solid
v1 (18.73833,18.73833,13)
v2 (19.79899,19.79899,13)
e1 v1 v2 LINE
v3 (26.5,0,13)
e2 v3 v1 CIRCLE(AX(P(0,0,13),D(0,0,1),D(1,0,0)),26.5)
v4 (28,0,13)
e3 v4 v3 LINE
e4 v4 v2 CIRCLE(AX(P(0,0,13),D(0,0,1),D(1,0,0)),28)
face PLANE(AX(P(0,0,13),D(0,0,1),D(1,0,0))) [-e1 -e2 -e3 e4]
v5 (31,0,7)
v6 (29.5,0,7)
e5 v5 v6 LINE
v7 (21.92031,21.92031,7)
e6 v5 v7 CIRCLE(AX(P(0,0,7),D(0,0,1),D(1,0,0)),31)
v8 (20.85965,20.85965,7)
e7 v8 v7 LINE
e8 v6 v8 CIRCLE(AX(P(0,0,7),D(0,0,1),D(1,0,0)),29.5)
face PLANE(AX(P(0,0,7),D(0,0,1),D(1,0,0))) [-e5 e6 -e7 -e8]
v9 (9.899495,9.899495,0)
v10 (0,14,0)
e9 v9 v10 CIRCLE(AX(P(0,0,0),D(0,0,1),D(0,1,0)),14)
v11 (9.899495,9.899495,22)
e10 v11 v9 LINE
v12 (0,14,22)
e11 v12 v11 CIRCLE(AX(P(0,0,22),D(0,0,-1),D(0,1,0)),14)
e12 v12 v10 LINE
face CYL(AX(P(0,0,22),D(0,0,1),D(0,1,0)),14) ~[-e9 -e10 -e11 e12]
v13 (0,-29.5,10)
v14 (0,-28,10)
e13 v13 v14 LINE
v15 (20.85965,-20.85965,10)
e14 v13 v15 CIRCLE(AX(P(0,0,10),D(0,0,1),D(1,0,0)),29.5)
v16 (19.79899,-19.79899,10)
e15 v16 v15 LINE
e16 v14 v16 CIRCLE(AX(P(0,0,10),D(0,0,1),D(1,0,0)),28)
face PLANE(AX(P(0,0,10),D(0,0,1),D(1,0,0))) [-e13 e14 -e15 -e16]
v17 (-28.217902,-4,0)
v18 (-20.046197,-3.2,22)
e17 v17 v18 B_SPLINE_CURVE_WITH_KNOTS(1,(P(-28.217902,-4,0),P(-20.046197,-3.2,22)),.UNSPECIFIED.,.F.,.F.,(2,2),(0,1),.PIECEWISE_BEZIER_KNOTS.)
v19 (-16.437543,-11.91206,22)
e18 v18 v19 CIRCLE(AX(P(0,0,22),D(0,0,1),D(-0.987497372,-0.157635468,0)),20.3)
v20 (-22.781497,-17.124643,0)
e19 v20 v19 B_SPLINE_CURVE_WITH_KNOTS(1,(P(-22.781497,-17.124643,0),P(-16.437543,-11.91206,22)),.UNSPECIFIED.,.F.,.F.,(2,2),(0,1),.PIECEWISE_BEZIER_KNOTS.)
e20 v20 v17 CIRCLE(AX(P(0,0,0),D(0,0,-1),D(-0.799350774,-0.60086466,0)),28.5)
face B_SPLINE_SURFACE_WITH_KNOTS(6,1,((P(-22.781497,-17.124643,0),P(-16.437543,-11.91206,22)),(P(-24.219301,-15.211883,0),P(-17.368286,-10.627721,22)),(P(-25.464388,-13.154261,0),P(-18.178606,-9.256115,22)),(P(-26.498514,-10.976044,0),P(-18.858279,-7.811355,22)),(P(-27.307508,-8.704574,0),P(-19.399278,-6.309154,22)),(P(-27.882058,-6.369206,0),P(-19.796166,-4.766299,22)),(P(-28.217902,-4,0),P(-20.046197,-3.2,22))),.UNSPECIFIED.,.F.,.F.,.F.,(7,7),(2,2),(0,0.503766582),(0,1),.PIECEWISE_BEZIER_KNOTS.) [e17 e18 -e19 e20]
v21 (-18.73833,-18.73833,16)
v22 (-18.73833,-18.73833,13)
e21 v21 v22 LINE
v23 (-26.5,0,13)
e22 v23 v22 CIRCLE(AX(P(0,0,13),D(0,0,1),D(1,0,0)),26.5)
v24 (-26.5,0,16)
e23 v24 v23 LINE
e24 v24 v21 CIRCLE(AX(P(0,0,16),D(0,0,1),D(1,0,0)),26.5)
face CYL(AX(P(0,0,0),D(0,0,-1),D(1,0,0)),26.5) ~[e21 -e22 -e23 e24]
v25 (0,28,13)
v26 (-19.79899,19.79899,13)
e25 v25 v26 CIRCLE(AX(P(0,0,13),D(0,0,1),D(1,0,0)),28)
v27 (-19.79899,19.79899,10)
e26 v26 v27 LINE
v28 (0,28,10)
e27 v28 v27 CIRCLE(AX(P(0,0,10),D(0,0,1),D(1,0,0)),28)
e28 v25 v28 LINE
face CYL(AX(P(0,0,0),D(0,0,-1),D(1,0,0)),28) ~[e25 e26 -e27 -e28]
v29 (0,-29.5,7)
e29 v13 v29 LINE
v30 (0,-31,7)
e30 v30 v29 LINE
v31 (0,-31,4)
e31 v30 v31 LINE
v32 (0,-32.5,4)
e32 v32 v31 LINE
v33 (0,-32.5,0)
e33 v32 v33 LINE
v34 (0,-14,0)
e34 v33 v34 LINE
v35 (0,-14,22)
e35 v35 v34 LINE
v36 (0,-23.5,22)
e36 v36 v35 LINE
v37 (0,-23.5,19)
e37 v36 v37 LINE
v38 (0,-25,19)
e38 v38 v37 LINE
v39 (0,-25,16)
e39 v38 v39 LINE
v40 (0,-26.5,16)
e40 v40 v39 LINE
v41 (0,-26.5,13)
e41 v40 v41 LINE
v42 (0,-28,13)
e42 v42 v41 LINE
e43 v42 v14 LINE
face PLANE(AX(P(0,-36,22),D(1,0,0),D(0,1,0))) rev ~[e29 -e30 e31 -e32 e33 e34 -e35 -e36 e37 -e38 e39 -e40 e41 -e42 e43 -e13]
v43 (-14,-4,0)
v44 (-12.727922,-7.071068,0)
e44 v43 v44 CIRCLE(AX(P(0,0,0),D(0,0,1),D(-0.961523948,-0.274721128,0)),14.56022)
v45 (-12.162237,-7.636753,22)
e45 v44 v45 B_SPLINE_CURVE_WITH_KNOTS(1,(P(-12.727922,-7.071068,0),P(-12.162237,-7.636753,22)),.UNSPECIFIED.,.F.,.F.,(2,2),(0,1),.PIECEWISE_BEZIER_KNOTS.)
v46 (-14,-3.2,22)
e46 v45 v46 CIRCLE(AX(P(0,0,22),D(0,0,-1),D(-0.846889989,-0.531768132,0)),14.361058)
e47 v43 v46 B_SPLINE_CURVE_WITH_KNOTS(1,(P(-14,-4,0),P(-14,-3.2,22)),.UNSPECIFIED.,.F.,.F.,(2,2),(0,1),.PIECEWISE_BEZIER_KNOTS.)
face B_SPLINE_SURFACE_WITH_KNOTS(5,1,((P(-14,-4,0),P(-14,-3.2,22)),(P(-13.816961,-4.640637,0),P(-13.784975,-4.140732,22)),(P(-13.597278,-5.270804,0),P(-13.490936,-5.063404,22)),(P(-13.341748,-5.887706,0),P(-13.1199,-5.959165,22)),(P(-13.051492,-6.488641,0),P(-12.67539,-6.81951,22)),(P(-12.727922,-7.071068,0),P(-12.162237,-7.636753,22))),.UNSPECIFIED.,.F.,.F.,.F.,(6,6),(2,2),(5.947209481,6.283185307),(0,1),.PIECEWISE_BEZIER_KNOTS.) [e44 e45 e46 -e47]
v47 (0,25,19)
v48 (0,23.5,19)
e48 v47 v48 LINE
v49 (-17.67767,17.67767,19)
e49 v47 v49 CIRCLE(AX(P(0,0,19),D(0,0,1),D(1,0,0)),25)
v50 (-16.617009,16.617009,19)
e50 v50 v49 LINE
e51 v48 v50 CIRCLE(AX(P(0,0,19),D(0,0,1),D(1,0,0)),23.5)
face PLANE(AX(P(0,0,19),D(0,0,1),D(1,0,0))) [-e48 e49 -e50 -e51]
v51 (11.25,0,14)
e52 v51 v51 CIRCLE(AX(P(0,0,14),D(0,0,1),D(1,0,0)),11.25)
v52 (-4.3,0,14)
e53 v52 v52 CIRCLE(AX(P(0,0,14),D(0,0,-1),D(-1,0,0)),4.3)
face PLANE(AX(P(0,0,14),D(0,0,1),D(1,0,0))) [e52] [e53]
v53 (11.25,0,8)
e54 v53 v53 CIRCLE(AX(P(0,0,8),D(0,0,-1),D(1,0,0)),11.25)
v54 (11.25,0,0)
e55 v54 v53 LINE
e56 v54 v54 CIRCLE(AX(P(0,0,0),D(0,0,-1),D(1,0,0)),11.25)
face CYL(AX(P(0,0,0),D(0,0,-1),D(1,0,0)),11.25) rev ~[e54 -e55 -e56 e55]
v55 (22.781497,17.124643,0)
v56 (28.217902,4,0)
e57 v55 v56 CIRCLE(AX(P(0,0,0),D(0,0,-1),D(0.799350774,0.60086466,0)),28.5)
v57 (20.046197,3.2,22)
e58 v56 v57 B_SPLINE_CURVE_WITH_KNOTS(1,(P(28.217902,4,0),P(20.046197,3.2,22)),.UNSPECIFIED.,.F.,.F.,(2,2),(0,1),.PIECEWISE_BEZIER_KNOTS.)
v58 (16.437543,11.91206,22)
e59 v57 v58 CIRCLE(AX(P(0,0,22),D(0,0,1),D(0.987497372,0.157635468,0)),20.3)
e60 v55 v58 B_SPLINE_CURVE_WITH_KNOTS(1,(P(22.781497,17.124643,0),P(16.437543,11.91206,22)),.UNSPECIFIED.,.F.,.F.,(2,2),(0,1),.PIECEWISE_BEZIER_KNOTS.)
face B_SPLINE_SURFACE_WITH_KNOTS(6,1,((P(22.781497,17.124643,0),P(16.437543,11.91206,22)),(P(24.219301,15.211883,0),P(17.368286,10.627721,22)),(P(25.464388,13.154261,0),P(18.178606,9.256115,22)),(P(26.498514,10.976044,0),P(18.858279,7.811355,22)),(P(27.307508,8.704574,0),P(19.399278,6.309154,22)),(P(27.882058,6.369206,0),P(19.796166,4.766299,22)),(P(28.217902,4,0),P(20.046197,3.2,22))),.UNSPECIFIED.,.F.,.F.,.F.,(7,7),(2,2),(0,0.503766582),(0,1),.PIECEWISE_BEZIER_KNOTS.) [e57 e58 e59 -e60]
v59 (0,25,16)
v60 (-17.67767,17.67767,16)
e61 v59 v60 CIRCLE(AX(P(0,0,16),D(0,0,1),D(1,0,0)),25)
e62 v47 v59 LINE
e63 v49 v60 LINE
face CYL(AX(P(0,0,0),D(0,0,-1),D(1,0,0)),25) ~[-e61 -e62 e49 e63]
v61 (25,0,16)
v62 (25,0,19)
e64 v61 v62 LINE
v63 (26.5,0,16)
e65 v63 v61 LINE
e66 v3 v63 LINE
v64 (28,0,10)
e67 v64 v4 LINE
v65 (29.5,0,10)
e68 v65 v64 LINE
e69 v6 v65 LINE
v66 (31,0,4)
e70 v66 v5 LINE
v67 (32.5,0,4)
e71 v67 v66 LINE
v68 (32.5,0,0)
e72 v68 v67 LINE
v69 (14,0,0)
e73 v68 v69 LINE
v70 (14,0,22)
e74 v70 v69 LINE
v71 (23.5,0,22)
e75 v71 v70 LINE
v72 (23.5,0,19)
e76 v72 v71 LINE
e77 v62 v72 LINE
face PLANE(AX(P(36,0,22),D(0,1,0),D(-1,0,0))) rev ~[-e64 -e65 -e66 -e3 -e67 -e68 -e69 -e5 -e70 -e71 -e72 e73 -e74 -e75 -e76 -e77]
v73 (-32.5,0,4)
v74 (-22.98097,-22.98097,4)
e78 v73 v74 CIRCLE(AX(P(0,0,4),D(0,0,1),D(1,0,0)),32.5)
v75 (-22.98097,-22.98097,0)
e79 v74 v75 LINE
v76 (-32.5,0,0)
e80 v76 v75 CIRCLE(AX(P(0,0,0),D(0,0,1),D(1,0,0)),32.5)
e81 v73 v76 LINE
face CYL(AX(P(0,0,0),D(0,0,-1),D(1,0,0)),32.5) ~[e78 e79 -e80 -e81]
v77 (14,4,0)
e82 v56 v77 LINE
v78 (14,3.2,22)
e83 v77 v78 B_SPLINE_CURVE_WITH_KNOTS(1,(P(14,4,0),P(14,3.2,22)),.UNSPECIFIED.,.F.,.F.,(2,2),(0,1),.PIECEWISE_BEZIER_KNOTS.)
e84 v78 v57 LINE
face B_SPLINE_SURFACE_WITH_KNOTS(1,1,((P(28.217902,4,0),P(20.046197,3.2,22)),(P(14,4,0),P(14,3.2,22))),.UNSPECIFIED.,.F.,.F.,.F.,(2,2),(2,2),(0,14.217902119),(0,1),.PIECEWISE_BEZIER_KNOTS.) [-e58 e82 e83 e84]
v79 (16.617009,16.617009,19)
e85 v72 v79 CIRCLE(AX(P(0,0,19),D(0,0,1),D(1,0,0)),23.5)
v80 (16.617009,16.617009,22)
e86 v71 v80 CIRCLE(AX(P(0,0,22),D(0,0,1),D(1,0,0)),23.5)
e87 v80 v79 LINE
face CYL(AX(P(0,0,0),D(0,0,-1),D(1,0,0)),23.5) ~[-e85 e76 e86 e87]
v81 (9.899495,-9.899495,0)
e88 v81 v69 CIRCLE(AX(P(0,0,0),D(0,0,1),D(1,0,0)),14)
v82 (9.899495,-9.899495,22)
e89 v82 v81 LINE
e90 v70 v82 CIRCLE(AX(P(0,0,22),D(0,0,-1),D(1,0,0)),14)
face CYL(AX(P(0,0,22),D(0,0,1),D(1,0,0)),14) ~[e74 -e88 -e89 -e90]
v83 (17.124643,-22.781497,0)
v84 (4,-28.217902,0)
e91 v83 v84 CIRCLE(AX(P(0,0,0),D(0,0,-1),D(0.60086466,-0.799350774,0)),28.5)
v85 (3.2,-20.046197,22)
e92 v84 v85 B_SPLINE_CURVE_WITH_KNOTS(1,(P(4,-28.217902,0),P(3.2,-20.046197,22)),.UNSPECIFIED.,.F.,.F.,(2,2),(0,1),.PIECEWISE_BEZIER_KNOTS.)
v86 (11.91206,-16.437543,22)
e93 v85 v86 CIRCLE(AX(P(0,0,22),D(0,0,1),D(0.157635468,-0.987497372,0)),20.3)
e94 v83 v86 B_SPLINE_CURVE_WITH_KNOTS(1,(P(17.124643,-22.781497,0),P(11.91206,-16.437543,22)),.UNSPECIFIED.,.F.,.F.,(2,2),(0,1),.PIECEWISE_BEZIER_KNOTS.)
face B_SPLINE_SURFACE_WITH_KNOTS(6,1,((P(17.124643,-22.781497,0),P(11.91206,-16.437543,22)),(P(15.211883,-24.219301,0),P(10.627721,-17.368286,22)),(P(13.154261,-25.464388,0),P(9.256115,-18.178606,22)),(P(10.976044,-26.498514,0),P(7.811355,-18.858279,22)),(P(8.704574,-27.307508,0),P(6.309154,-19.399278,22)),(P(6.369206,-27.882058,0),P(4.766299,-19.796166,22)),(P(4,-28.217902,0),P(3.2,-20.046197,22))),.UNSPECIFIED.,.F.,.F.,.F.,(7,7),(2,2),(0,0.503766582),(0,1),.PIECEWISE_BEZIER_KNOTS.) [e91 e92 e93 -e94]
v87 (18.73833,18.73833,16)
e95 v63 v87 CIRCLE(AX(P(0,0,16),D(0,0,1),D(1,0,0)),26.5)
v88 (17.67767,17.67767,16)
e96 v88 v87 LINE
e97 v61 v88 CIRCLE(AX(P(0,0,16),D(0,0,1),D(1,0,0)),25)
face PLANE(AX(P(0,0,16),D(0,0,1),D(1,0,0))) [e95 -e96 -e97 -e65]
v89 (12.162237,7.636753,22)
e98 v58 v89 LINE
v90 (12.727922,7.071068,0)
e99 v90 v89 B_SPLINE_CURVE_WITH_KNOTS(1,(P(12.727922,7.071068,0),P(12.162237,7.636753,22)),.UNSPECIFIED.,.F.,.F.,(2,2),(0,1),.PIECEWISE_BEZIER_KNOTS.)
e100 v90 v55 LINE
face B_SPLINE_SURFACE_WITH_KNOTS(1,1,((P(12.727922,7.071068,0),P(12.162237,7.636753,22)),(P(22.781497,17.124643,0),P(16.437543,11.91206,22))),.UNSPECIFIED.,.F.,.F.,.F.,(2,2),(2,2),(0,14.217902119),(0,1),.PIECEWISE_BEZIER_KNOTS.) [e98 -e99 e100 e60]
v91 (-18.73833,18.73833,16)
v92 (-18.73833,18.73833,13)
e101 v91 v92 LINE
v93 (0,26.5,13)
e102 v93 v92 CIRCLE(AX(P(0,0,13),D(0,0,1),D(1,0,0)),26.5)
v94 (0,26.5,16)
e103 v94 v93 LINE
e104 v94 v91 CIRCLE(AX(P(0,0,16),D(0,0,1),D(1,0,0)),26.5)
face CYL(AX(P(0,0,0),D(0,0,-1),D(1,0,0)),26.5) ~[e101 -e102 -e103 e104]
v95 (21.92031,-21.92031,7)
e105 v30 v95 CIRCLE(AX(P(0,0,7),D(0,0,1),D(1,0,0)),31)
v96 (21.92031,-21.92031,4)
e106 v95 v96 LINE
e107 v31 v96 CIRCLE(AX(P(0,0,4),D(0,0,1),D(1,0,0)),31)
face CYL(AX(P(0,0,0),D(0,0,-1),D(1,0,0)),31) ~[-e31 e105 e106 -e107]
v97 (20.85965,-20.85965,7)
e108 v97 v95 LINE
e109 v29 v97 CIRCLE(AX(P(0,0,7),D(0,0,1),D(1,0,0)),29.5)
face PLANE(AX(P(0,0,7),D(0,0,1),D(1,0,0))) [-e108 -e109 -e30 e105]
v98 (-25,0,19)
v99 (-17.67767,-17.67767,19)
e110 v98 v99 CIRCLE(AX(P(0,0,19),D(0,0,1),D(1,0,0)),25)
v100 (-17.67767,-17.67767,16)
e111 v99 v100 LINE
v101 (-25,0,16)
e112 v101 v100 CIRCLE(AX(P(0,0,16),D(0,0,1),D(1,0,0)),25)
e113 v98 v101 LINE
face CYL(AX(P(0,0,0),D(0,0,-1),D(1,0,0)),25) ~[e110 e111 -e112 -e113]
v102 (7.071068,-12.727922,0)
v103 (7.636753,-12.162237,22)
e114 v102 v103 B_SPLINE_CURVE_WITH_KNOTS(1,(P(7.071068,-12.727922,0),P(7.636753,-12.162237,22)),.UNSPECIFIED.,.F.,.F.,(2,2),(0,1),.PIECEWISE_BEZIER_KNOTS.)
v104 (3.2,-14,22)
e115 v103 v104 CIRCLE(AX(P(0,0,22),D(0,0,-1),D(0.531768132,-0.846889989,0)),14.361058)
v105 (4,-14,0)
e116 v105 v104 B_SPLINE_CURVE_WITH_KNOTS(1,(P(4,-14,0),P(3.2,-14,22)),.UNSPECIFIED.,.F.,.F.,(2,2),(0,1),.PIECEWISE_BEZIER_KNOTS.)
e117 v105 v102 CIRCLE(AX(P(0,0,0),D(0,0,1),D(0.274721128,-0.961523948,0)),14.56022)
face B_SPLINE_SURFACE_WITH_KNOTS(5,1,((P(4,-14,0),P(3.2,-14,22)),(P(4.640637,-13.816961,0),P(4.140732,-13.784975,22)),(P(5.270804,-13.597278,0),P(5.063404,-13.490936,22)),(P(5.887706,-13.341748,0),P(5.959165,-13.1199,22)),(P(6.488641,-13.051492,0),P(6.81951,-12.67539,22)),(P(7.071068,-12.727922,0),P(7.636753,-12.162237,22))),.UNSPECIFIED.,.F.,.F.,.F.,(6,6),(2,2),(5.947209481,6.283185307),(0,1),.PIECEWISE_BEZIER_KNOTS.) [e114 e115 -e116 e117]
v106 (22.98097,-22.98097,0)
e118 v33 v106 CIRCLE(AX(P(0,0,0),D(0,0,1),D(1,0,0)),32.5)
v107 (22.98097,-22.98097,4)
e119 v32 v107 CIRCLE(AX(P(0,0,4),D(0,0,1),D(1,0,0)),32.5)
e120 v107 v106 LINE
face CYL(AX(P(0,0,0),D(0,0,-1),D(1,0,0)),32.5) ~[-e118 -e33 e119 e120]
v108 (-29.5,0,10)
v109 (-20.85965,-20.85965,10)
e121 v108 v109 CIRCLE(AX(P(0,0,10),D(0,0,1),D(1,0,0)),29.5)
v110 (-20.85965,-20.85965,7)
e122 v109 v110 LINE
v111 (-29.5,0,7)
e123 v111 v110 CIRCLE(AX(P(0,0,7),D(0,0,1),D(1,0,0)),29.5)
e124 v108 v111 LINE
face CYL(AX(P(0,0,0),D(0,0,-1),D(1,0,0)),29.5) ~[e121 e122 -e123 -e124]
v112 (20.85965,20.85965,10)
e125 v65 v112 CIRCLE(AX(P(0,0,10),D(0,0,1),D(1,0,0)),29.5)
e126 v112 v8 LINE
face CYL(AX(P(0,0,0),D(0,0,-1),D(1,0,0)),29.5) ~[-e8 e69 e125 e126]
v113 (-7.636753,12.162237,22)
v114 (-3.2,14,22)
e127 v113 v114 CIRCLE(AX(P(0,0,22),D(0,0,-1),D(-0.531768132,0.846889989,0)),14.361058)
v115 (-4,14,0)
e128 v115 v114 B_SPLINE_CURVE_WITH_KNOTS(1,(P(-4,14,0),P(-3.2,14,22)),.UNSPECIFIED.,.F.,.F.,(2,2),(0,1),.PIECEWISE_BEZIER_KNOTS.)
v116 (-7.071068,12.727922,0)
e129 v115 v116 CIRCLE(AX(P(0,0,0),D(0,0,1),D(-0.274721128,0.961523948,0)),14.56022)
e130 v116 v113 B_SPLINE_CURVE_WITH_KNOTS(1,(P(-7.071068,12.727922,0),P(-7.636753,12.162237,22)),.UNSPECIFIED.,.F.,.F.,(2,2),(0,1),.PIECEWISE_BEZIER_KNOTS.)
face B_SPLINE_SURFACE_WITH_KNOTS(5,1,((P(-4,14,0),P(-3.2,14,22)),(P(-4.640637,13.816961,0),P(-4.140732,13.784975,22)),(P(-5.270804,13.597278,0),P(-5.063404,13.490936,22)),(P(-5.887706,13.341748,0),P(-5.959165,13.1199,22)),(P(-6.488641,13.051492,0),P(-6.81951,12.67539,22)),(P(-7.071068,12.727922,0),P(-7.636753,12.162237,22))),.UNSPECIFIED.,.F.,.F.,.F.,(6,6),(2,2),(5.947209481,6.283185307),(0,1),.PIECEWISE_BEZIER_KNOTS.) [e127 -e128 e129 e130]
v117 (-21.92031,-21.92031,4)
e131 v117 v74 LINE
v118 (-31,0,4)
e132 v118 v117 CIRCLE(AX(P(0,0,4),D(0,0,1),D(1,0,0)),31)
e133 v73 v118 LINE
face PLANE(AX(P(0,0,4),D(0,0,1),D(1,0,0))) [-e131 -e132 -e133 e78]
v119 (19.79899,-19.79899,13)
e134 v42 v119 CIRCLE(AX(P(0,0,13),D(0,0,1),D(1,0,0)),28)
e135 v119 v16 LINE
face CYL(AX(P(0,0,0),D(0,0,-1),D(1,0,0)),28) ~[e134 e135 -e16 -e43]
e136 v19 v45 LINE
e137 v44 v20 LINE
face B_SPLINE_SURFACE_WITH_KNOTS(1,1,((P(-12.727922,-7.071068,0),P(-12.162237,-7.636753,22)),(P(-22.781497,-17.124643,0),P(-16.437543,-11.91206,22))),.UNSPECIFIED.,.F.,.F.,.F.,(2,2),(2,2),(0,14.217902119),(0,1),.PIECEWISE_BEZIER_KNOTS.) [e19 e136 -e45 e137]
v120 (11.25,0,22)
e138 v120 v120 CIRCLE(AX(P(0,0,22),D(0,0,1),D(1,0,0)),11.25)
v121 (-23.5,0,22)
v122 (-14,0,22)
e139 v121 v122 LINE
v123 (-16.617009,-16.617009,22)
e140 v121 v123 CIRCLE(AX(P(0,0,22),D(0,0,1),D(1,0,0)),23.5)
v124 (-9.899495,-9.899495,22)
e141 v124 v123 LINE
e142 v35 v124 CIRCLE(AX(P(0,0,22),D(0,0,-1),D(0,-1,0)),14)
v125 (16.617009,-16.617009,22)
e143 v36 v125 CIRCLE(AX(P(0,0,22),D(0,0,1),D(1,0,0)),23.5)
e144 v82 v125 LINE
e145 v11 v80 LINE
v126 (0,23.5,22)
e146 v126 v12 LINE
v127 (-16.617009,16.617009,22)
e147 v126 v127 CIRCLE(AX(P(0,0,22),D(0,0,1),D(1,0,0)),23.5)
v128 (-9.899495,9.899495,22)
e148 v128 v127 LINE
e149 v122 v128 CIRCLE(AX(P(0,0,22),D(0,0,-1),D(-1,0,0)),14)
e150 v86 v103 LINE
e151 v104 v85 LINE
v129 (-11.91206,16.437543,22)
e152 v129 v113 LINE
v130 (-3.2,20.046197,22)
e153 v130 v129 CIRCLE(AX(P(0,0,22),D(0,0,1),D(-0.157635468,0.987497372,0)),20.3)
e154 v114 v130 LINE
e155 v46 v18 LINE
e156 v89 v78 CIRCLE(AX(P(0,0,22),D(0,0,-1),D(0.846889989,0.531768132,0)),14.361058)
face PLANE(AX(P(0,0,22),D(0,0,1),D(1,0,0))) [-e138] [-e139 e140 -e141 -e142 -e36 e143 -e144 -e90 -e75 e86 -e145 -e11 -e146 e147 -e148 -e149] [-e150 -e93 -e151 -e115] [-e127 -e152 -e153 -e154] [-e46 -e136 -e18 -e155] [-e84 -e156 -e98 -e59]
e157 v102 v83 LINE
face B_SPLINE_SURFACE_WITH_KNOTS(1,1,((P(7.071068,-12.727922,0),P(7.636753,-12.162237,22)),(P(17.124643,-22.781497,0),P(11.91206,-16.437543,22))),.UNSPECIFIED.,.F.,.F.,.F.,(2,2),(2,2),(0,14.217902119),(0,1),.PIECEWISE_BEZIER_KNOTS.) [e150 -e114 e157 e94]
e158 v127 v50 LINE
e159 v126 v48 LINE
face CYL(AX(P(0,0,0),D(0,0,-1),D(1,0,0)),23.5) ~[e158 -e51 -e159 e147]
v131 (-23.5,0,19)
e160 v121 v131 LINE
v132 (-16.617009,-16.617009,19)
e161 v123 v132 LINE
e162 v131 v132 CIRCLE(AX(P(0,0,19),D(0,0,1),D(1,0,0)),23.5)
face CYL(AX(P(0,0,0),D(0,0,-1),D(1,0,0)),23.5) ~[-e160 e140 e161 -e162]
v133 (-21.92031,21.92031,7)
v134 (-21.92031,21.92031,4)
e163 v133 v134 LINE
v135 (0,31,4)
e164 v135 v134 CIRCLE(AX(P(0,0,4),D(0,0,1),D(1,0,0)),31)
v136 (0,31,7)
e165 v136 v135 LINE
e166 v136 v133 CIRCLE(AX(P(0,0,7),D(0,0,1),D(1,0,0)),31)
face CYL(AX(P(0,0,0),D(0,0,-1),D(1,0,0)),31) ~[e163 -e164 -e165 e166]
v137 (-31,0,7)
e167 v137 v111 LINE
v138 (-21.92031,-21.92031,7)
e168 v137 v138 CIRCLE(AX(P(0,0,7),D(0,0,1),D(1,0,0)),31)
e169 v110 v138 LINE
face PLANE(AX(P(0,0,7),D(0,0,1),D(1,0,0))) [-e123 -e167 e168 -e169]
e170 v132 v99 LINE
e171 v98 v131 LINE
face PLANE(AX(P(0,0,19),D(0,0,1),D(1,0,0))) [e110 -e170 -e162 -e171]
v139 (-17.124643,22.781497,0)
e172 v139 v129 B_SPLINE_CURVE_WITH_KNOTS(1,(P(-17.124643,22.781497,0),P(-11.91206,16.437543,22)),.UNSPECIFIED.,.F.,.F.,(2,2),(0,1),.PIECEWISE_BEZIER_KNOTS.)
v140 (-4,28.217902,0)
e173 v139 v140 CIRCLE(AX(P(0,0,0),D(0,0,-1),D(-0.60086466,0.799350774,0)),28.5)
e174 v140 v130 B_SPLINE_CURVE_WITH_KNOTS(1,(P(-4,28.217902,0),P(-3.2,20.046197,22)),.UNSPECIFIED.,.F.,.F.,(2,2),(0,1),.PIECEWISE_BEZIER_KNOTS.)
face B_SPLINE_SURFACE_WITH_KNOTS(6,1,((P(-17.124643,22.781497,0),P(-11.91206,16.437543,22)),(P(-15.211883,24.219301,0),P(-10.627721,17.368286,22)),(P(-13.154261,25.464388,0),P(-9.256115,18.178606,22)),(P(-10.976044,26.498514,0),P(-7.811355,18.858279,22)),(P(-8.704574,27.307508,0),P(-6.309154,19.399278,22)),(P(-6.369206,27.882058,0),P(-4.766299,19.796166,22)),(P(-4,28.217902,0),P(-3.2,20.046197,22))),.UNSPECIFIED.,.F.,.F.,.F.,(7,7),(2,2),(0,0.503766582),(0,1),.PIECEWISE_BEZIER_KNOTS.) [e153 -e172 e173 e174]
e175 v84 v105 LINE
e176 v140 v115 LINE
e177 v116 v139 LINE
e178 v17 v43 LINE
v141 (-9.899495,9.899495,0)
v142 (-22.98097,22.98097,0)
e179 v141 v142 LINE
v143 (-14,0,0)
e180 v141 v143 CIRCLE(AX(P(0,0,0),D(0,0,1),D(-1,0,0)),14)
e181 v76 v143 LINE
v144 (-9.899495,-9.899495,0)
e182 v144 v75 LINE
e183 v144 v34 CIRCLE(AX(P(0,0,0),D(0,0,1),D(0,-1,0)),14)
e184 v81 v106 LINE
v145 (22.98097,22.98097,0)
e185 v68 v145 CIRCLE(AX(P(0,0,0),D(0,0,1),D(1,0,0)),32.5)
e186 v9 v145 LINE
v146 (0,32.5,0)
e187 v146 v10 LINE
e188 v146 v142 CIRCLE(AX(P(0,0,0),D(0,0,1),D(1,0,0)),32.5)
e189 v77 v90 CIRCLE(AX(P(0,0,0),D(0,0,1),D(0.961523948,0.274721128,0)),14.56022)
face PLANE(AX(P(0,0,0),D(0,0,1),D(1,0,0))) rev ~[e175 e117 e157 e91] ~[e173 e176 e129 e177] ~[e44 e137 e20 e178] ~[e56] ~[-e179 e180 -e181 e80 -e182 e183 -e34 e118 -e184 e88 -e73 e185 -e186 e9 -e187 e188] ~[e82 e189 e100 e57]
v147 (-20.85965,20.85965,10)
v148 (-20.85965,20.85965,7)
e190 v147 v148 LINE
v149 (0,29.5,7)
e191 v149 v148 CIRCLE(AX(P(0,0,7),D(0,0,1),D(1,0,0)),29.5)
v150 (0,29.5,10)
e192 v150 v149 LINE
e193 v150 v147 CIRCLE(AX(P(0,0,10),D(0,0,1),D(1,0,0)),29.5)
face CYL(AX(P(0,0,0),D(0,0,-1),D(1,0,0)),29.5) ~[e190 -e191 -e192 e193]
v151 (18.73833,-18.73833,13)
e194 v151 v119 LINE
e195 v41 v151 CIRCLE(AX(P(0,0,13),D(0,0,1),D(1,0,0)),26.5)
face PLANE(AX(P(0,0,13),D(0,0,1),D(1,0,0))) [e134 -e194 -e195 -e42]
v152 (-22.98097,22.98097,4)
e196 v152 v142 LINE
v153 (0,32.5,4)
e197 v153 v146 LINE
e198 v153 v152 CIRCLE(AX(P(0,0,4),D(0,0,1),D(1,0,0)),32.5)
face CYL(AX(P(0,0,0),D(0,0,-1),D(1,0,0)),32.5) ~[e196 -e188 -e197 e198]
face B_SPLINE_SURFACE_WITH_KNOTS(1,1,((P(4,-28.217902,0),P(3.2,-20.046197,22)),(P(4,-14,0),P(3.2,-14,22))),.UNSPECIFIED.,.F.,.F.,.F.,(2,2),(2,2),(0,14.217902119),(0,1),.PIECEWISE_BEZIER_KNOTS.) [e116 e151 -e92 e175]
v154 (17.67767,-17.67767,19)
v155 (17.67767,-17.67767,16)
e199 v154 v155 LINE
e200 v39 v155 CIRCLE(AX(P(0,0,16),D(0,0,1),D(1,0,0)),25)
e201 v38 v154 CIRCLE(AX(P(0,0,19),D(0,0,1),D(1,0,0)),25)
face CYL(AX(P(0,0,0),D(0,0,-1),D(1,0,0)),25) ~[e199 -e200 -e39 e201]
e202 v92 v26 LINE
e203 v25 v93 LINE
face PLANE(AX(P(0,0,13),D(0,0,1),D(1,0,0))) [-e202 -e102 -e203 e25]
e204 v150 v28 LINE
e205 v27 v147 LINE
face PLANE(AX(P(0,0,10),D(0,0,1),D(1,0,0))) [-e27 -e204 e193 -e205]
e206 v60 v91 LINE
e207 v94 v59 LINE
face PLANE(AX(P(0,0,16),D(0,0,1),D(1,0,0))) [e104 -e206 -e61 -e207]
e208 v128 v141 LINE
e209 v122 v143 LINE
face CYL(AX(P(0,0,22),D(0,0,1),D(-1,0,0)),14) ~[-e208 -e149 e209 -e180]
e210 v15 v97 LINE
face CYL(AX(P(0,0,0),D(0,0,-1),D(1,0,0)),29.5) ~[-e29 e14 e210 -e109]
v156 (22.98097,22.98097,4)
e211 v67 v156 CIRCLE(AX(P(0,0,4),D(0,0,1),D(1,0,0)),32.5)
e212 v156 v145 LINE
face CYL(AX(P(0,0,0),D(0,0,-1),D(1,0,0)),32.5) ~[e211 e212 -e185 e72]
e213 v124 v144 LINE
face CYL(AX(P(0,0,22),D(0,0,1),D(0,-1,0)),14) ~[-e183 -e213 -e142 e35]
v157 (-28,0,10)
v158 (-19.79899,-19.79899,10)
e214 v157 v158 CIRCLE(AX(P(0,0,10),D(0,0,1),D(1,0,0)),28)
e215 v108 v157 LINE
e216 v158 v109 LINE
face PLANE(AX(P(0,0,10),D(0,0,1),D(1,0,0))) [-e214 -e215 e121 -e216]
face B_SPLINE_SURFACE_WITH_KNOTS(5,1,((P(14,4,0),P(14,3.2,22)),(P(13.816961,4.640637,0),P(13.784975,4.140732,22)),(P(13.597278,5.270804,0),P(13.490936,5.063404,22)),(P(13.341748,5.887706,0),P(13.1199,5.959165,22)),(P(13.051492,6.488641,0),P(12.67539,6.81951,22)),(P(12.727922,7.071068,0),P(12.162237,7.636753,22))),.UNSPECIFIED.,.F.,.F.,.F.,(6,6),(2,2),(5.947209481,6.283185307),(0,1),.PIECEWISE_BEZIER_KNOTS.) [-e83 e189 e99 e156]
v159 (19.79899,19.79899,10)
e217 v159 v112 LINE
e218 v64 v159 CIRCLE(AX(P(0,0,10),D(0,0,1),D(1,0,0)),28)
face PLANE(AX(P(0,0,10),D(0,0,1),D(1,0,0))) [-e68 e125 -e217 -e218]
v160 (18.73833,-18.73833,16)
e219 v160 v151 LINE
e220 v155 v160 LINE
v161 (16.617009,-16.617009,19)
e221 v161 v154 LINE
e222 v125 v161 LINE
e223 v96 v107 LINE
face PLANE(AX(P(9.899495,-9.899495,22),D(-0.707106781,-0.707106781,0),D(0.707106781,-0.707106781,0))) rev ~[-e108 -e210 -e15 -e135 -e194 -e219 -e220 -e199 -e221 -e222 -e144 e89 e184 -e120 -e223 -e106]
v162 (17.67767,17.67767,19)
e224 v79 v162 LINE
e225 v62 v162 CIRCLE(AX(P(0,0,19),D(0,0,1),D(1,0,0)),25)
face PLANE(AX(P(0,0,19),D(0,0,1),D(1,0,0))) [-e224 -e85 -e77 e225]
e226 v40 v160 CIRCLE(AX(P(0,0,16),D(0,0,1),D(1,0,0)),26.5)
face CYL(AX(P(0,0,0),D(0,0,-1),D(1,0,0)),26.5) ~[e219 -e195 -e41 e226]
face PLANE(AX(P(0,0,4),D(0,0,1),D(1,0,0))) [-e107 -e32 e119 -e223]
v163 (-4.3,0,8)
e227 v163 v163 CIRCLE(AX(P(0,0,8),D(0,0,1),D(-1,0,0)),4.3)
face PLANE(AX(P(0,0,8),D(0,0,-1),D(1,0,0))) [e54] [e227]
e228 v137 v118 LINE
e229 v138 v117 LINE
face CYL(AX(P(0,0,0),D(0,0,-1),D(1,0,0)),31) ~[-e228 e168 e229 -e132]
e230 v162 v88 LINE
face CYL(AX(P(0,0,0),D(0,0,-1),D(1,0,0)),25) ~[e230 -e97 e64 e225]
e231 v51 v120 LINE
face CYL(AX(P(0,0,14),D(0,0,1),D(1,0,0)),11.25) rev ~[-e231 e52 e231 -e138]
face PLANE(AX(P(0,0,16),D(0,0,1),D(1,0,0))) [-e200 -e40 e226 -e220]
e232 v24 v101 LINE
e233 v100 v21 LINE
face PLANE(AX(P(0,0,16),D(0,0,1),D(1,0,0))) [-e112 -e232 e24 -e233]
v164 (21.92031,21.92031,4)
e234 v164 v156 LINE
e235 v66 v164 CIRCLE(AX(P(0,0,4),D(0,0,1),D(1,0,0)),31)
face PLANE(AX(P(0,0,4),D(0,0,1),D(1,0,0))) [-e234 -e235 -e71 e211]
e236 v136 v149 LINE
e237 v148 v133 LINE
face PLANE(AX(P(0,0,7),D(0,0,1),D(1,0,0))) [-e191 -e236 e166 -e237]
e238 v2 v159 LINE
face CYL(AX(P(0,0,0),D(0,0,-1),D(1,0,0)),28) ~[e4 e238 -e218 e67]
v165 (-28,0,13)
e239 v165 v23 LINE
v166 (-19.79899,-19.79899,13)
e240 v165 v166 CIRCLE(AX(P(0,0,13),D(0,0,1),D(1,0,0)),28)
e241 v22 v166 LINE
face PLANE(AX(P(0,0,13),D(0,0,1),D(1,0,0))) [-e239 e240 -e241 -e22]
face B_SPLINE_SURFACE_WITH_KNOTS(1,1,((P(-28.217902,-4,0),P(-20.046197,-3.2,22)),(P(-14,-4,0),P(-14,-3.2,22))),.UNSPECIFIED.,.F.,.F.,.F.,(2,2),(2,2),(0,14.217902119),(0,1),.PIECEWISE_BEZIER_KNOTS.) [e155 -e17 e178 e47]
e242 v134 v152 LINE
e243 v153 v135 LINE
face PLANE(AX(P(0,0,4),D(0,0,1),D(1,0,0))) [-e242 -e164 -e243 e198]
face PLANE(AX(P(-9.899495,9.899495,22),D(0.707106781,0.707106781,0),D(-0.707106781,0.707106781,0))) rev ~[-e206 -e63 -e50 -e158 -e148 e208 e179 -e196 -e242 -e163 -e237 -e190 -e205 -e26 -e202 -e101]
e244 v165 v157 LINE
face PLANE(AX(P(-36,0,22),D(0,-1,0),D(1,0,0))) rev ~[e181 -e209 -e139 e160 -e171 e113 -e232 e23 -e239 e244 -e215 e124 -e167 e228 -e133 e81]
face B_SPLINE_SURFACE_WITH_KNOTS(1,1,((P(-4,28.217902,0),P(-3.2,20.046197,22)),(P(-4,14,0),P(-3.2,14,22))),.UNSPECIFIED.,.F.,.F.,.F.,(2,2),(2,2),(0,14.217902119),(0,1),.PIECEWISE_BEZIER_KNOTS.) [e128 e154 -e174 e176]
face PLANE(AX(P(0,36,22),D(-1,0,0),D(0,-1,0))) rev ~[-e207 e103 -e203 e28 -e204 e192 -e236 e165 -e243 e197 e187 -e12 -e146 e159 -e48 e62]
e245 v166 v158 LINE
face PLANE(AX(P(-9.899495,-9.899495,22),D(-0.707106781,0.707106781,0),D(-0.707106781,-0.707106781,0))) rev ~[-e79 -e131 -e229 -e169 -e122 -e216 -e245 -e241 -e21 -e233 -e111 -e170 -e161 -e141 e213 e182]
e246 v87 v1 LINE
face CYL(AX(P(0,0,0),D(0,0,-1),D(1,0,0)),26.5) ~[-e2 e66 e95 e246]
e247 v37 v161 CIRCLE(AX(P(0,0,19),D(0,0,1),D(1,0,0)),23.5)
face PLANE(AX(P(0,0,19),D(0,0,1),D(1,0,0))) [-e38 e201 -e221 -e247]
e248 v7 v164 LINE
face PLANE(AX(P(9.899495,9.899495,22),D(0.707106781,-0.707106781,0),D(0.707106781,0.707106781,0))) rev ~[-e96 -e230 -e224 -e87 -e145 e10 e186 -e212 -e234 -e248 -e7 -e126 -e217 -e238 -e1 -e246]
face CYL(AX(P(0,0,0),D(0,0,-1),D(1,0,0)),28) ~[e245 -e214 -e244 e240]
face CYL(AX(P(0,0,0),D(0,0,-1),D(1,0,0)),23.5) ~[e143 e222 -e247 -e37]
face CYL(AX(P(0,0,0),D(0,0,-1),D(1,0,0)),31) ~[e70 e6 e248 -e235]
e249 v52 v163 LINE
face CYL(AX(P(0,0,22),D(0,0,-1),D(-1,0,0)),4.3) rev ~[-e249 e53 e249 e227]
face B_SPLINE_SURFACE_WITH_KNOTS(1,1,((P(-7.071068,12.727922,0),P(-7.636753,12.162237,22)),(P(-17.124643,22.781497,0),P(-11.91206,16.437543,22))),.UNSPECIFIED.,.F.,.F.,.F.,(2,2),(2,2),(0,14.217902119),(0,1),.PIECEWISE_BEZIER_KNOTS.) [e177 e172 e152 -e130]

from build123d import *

# Parameters (mm, degrees)
F0_R            = 32.5
F0_R_2          = 31
F1_DEPTH        = 4
F0_R_3          = 29.5
F2_DEPTH        = 7
F0_R_4          = 28
F3_DEPTH        = 10
F0_R_5          = 26.5
F4_DEPTH        = 13
F0_R_6          = 25
F5_DEPTH        = 16
F0_R_7          = 23.5
F6_DEPTH        = 19
F7_DEPTH        = 22
F9_DEPTH        = 25
F11_D           = 8.6
F11_CBORE_D     = 22.5
F11_CBORE_DEPTH = 8
F12_R           = 11.25
F12_R_2         = 4.3
F13_DEPTH       = 8


with BuildPart() as f1:
    # F0 (on Top) → F1 (new body)
    with BuildSketch(Plane.XY):
        Circle(F0_R)
        Circle(F0_R_2, mode=Mode.SUBTRACT)
    extrude(amount=F1_DEPTH)

    # F0 (on Top) → F2 (join)
    with BuildSketch(Plane.XY):
        Circle(F0_R_2)
        Circle(F0_R_3, mode=Mode.SUBTRACT)
    extrude(amount=F2_DEPTH)

    # F0 (on Top) → F3 (join)
    with BuildSketch(Plane.XY):
        Circle(F0_R_3)
        Circle(F0_R_4, mode=Mode.SUBTRACT)
    extrude(amount=F3_DEPTH)

    # F0 (on Top) → F4 (join)
    with BuildSketch(Plane.XY):
        Circle(F0_R_4)
        Circle(F0_R_5, mode=Mode.SUBTRACT)
    extrude(amount=F4_DEPTH)

    # F0 (on Top) → F5 (join)
    with BuildSketch(Plane.XY):
        Circle(F0_R_5)
        Circle(F0_R_6, mode=Mode.SUBTRACT)
    extrude(amount=F5_DEPTH)

    # F0 (on Top) → F6 (join)
    with BuildSketch(Plane.XY):
        Circle(F0_R_6)
        Circle(F0_R_7, mode=Mode.SUBTRACT)
    extrude(amount=F6_DEPTH)

    # F0 (on Top) → F7 (join)
    with BuildSketch(Plane.XY):
        Circle(F0_R_7)
    extrude(amount=F7_DEPTH)

    # F8 (on face) → F9 (cut)
    with BuildSketch(Plane.XY.offset(22)):
        with BuildLine():
            ThreePointArc((-23.5, 0), (-21.711169014, 8.9930606606), (-16.6170093579, 16.6170093579))
            Line((-16.6170093579, 16.6170093579), (-25.4558441227, 25.4558441227))
            ThreePointArc((-25.4558441227, 25.4558441227), (-33.2596631704, 13.7766035651), (-36, 0))
            Line((-36, 0), (-23.5, 0))
        make_face()
        with BuildLine():
            ThreePointArc((-14, 0), (-12.9343134552, 5.3575680531), (-9.8994949366, 9.8994949366))
            Line((-9.8994949366, 9.8994949366), (-16.6170093579, 16.6170093579))
            ThreePointArc((-16.6170093579, 16.6170093579), (-21.711169014, 8.9930606606), (-23.5, 0))
            Line((-23.5, 0), (-14, 0))
        make_face()
        with BuildLine():
            ThreePointArc((0, 14), (5.3575680531, 12.9343134552), (9.8994949366, 9.8994949366))
            Line((9.8994949366, 9.8994949366), (16.6170093579, 16.6170093579))
            ThreePointArc((16.6170093579, 16.6170093579), (8.9930606606, 21.711169014), (0, 23.5))
            Line((0, 23.5), (0, 14))
        make_face()
        with BuildLine():
            ThreePointArc((0, 23.5), (8.9930606606, 21.711169014), (16.6170093579, 16.6170093579))
            Line((16.6170093579, 16.6170093579), (25.4558441227, 25.4558441227))
            ThreePointArc((25.4558441227, 25.4558441227), (13.7766035651, 33.2596631704), (0, 36))
            Line((0, 36), (0, 23.5))
        make_face()
        with BuildLine():
            Line((23.5, 0), (14, 0))
            ThreePointArc((14, 0), (12.9343134552, -5.3575680531), (9.8994949366, -9.8994949366))
            Line((9.8994949366, -9.8994949366), (16.6170093579, -16.6170093579))
            ThreePointArc((16.6170093579, -16.6170093579), (21.711169014, -8.9930606606), (23.5, 0))
        make_face()
        with BuildLine():
            Line((36, 0), (23.5, 0))
            ThreePointArc((23.5, 0), (21.711169014, -8.9930606606), (16.6170093579, -16.6170093579))
            Line((16.6170093579, -16.6170093579), (25.4558441227, -25.4558441227))
            ThreePointArc((25.4558441227, -25.4558441227), (33.2596631704, -13.7766035651), (36, 0))
        make_face()
        with BuildLine():
            Line((0, -23.5), (0, -14))
            ThreePointArc((0, -14), (-5.3575680531, -12.9343134552), (-9.8994949366, -9.8994949366))
            Line((-9.8994949366, -9.8994949366), (-16.6170093579, -16.6170093579))
            ThreePointArc((-16.6170093579, -16.6170093579), (-8.9930606606, -21.711169014), (0, -23.5))
        make_face()
        with BuildLine():
            Line((0, -36), (0, -23.5))
            ThreePointArc((0, -23.5), (-8.9930606606, -21.711169014), (-16.6170093579, -16.6170093579))
            Line((-16.6170093579, -16.6170093579), (-25.4558441227, -25.4558441227))
            ThreePointArc((-25.4558441227, -25.4558441227), (-13.7766035651, -33.2596631704), (0, -36))
        make_face()
    extrude(amount=-F9_DEPTH, mode=Mode.SUBTRACT)

    # F11 (through all)
    with Locations(Plane.XY.offset(22)):
        with Locations((0, 0)):
            CounterBoreHole(F11_D / 2, F11_CBORE_D / 2, F11_CBORE_DEPTH)

    # F12 (on face) → F13 (cut)
    with BuildSketch(Plane(origin=(0, 0, 0), x_dir=(1, 0, 0), z_dir=(0, 0, -1))):
        Circle(F12_R)
        Circle(F12_R_2, mode=Mode.SUBTRACT)
    extrude(amount=-F13_DEPTH, mode=Mode.SUBTRACT)

    # F14 (on face) → F16 section 0
    with BuildSketch(Plane(origin=(0, 0, 0), x_dir=(1, 0, 0), z_dir=(0, 0, -1))):
        with BuildLine():
            ThreePointArc((4, 14), (5.5719548808, 13.4518890423), (7.0710678119, 12.7279220614))
            Line((7.0710678119, 12.7279220614), (17.1246428145, 22.781497064))
            ThreePointArc((17.1246428145, 22.781497064), (10.9064778224, 26.3305666766), (4, 28.217902119))
            Line((4, 28.217902119), (4, 14))
        make_face()
    # F15 (on face) → F16 section 1
    with BuildSketch(Plane.XY.offset(22)):
        with BuildLine():
            Line((3.2, -14), (3.2, -20.0461966467))
            ThreePointArc((3.2, -20.0461966467), (7.768473677, -18.75475451), (11.9120598861, -16.4375432857))
            Line((11.9120598861, -16.4375432857), (7.6367532368, -12.1622366364))
            ThreePointArc((7.6367532368, -12.1622366364), (5.4957391426, -13.2678879734), (3.2, -14))
        make_face()
    loft(mode=Mode.SUBTRACT)

    # F14 (on face) → F17 section 0
    with BuildSketch(Plane(origin=(0, 0, 0), x_dir=(1, 0, 0), z_dir=(0, 0, -1))):
        with BuildLine():
            ThreePointArc((14, -4), (13.4518890423, -5.5719548808), (12.7279220614, -7.0710678119))
            Line((12.7279220614, -7.0710678119), (22.781497064, -17.1246428145))
            ThreePointArc((22.781497064, -17.1246428145), (26.3305666766, -10.9064778224), (28.217902119, -4))
            Line((28.217902119, -4), (14, -4))
        make_face()
    # F15 (on face) → F17 section 1
    with BuildSketch(Plane.XY.offset(22)):
        with BuildLine():
            Line((14, 3.2), (20.0461966467, 3.2))
            ThreePointArc((20.0461966467, 3.2), (18.75475451, 7.768473677), (16.4375432857, 11.9120598861))
            Line((16.4375432857, 11.9120598861), (12.1622366364, 7.6367532368))
            ThreePointArc((12.1622366364, 7.6367532368), (13.2678879734, 5.4957391426), (14, 3.2))
        make_face()
    loft(mode=Mode.SUBTRACT)

    # F14 (on face) → F18 section 0
    with BuildSketch(Plane(origin=(0, 0, 0), x_dir=(1, 0, 0), z_dir=(0, 0, -1))):
        with BuildLine():
            ThreePointArc((-4, -14), (-5.5719548808, -13.4518890423), (-7.0710678119, -12.7279220614))
            Line((-7.0710678119, -12.7279220614), (-17.1246428145, -22.781497064))
            ThreePointArc((-17.1246428145, -22.781497064), (-10.9064778224, -26.3305666766), (-4, -28.217902119))
            Line((-4, -28.217902119), (-4, -14))
        make_face()
    # F15 (on face) → F18 section 1
    with BuildSketch(Plane.XY.offset(22)):
        with BuildLine():
            Line((-3.2, 14), (-3.2, 20.0461966467))
            ThreePointArc((-3.2, 20.0461966467), (-7.768473677, 18.75475451), (-11.9120598861, 16.4375432857))
            Line((-11.9120598861, 16.4375432857), (-7.6367532368, 12.1622366364))
            ThreePointArc((-7.6367532368, 12.1622366364), (-5.4957391426, 13.2678879734), (-3.2, 14))
        make_face()
    loft(mode=Mode.SUBTRACT)

    # F14 (on face) → F19 section 0
    with BuildSketch(Plane(origin=(0, 0, 0), x_dir=(1, 0, 0), z_dir=(0, 0, -1))):
        with BuildLine():
            ThreePointArc((-14, 4), (-13.4518890423, 5.5719548808), (-12.7279220614, 7.0710678119))
            Line((-12.7279220614, 7.0710678119), (-22.781497064, 17.1246428145))
            ThreePointArc((-22.781497064, 17.1246428145), (-26.3305666766, 10.9064778224), (-28.217902119, 4))
            Line((-28.217902119, 4), (-14, 4))
        make_face()
    # F15 (on face) → F19 section 1
    with BuildSketch(Plane.XY.offset(22)):
        with BuildLine():
            Line((-16.4375432857, -11.9120598861), (-12.1622366364, -7.6367532368))
            ThreePointArc((-12.1622366364, -7.6367532368), (-13.2678879734, -5.4957391426), (-14, -3.2))
            Line((-14, -3.2), (-20.0461966467, -3.2))
            ThreePointArc((-20.0461966467, -3.2), (-18.75475451, -7.768473677), (-16.4375432857, -11.9120598861))
        make_face()
    loft(mode=Mode.SUBTRACT)


solid = f1.part
